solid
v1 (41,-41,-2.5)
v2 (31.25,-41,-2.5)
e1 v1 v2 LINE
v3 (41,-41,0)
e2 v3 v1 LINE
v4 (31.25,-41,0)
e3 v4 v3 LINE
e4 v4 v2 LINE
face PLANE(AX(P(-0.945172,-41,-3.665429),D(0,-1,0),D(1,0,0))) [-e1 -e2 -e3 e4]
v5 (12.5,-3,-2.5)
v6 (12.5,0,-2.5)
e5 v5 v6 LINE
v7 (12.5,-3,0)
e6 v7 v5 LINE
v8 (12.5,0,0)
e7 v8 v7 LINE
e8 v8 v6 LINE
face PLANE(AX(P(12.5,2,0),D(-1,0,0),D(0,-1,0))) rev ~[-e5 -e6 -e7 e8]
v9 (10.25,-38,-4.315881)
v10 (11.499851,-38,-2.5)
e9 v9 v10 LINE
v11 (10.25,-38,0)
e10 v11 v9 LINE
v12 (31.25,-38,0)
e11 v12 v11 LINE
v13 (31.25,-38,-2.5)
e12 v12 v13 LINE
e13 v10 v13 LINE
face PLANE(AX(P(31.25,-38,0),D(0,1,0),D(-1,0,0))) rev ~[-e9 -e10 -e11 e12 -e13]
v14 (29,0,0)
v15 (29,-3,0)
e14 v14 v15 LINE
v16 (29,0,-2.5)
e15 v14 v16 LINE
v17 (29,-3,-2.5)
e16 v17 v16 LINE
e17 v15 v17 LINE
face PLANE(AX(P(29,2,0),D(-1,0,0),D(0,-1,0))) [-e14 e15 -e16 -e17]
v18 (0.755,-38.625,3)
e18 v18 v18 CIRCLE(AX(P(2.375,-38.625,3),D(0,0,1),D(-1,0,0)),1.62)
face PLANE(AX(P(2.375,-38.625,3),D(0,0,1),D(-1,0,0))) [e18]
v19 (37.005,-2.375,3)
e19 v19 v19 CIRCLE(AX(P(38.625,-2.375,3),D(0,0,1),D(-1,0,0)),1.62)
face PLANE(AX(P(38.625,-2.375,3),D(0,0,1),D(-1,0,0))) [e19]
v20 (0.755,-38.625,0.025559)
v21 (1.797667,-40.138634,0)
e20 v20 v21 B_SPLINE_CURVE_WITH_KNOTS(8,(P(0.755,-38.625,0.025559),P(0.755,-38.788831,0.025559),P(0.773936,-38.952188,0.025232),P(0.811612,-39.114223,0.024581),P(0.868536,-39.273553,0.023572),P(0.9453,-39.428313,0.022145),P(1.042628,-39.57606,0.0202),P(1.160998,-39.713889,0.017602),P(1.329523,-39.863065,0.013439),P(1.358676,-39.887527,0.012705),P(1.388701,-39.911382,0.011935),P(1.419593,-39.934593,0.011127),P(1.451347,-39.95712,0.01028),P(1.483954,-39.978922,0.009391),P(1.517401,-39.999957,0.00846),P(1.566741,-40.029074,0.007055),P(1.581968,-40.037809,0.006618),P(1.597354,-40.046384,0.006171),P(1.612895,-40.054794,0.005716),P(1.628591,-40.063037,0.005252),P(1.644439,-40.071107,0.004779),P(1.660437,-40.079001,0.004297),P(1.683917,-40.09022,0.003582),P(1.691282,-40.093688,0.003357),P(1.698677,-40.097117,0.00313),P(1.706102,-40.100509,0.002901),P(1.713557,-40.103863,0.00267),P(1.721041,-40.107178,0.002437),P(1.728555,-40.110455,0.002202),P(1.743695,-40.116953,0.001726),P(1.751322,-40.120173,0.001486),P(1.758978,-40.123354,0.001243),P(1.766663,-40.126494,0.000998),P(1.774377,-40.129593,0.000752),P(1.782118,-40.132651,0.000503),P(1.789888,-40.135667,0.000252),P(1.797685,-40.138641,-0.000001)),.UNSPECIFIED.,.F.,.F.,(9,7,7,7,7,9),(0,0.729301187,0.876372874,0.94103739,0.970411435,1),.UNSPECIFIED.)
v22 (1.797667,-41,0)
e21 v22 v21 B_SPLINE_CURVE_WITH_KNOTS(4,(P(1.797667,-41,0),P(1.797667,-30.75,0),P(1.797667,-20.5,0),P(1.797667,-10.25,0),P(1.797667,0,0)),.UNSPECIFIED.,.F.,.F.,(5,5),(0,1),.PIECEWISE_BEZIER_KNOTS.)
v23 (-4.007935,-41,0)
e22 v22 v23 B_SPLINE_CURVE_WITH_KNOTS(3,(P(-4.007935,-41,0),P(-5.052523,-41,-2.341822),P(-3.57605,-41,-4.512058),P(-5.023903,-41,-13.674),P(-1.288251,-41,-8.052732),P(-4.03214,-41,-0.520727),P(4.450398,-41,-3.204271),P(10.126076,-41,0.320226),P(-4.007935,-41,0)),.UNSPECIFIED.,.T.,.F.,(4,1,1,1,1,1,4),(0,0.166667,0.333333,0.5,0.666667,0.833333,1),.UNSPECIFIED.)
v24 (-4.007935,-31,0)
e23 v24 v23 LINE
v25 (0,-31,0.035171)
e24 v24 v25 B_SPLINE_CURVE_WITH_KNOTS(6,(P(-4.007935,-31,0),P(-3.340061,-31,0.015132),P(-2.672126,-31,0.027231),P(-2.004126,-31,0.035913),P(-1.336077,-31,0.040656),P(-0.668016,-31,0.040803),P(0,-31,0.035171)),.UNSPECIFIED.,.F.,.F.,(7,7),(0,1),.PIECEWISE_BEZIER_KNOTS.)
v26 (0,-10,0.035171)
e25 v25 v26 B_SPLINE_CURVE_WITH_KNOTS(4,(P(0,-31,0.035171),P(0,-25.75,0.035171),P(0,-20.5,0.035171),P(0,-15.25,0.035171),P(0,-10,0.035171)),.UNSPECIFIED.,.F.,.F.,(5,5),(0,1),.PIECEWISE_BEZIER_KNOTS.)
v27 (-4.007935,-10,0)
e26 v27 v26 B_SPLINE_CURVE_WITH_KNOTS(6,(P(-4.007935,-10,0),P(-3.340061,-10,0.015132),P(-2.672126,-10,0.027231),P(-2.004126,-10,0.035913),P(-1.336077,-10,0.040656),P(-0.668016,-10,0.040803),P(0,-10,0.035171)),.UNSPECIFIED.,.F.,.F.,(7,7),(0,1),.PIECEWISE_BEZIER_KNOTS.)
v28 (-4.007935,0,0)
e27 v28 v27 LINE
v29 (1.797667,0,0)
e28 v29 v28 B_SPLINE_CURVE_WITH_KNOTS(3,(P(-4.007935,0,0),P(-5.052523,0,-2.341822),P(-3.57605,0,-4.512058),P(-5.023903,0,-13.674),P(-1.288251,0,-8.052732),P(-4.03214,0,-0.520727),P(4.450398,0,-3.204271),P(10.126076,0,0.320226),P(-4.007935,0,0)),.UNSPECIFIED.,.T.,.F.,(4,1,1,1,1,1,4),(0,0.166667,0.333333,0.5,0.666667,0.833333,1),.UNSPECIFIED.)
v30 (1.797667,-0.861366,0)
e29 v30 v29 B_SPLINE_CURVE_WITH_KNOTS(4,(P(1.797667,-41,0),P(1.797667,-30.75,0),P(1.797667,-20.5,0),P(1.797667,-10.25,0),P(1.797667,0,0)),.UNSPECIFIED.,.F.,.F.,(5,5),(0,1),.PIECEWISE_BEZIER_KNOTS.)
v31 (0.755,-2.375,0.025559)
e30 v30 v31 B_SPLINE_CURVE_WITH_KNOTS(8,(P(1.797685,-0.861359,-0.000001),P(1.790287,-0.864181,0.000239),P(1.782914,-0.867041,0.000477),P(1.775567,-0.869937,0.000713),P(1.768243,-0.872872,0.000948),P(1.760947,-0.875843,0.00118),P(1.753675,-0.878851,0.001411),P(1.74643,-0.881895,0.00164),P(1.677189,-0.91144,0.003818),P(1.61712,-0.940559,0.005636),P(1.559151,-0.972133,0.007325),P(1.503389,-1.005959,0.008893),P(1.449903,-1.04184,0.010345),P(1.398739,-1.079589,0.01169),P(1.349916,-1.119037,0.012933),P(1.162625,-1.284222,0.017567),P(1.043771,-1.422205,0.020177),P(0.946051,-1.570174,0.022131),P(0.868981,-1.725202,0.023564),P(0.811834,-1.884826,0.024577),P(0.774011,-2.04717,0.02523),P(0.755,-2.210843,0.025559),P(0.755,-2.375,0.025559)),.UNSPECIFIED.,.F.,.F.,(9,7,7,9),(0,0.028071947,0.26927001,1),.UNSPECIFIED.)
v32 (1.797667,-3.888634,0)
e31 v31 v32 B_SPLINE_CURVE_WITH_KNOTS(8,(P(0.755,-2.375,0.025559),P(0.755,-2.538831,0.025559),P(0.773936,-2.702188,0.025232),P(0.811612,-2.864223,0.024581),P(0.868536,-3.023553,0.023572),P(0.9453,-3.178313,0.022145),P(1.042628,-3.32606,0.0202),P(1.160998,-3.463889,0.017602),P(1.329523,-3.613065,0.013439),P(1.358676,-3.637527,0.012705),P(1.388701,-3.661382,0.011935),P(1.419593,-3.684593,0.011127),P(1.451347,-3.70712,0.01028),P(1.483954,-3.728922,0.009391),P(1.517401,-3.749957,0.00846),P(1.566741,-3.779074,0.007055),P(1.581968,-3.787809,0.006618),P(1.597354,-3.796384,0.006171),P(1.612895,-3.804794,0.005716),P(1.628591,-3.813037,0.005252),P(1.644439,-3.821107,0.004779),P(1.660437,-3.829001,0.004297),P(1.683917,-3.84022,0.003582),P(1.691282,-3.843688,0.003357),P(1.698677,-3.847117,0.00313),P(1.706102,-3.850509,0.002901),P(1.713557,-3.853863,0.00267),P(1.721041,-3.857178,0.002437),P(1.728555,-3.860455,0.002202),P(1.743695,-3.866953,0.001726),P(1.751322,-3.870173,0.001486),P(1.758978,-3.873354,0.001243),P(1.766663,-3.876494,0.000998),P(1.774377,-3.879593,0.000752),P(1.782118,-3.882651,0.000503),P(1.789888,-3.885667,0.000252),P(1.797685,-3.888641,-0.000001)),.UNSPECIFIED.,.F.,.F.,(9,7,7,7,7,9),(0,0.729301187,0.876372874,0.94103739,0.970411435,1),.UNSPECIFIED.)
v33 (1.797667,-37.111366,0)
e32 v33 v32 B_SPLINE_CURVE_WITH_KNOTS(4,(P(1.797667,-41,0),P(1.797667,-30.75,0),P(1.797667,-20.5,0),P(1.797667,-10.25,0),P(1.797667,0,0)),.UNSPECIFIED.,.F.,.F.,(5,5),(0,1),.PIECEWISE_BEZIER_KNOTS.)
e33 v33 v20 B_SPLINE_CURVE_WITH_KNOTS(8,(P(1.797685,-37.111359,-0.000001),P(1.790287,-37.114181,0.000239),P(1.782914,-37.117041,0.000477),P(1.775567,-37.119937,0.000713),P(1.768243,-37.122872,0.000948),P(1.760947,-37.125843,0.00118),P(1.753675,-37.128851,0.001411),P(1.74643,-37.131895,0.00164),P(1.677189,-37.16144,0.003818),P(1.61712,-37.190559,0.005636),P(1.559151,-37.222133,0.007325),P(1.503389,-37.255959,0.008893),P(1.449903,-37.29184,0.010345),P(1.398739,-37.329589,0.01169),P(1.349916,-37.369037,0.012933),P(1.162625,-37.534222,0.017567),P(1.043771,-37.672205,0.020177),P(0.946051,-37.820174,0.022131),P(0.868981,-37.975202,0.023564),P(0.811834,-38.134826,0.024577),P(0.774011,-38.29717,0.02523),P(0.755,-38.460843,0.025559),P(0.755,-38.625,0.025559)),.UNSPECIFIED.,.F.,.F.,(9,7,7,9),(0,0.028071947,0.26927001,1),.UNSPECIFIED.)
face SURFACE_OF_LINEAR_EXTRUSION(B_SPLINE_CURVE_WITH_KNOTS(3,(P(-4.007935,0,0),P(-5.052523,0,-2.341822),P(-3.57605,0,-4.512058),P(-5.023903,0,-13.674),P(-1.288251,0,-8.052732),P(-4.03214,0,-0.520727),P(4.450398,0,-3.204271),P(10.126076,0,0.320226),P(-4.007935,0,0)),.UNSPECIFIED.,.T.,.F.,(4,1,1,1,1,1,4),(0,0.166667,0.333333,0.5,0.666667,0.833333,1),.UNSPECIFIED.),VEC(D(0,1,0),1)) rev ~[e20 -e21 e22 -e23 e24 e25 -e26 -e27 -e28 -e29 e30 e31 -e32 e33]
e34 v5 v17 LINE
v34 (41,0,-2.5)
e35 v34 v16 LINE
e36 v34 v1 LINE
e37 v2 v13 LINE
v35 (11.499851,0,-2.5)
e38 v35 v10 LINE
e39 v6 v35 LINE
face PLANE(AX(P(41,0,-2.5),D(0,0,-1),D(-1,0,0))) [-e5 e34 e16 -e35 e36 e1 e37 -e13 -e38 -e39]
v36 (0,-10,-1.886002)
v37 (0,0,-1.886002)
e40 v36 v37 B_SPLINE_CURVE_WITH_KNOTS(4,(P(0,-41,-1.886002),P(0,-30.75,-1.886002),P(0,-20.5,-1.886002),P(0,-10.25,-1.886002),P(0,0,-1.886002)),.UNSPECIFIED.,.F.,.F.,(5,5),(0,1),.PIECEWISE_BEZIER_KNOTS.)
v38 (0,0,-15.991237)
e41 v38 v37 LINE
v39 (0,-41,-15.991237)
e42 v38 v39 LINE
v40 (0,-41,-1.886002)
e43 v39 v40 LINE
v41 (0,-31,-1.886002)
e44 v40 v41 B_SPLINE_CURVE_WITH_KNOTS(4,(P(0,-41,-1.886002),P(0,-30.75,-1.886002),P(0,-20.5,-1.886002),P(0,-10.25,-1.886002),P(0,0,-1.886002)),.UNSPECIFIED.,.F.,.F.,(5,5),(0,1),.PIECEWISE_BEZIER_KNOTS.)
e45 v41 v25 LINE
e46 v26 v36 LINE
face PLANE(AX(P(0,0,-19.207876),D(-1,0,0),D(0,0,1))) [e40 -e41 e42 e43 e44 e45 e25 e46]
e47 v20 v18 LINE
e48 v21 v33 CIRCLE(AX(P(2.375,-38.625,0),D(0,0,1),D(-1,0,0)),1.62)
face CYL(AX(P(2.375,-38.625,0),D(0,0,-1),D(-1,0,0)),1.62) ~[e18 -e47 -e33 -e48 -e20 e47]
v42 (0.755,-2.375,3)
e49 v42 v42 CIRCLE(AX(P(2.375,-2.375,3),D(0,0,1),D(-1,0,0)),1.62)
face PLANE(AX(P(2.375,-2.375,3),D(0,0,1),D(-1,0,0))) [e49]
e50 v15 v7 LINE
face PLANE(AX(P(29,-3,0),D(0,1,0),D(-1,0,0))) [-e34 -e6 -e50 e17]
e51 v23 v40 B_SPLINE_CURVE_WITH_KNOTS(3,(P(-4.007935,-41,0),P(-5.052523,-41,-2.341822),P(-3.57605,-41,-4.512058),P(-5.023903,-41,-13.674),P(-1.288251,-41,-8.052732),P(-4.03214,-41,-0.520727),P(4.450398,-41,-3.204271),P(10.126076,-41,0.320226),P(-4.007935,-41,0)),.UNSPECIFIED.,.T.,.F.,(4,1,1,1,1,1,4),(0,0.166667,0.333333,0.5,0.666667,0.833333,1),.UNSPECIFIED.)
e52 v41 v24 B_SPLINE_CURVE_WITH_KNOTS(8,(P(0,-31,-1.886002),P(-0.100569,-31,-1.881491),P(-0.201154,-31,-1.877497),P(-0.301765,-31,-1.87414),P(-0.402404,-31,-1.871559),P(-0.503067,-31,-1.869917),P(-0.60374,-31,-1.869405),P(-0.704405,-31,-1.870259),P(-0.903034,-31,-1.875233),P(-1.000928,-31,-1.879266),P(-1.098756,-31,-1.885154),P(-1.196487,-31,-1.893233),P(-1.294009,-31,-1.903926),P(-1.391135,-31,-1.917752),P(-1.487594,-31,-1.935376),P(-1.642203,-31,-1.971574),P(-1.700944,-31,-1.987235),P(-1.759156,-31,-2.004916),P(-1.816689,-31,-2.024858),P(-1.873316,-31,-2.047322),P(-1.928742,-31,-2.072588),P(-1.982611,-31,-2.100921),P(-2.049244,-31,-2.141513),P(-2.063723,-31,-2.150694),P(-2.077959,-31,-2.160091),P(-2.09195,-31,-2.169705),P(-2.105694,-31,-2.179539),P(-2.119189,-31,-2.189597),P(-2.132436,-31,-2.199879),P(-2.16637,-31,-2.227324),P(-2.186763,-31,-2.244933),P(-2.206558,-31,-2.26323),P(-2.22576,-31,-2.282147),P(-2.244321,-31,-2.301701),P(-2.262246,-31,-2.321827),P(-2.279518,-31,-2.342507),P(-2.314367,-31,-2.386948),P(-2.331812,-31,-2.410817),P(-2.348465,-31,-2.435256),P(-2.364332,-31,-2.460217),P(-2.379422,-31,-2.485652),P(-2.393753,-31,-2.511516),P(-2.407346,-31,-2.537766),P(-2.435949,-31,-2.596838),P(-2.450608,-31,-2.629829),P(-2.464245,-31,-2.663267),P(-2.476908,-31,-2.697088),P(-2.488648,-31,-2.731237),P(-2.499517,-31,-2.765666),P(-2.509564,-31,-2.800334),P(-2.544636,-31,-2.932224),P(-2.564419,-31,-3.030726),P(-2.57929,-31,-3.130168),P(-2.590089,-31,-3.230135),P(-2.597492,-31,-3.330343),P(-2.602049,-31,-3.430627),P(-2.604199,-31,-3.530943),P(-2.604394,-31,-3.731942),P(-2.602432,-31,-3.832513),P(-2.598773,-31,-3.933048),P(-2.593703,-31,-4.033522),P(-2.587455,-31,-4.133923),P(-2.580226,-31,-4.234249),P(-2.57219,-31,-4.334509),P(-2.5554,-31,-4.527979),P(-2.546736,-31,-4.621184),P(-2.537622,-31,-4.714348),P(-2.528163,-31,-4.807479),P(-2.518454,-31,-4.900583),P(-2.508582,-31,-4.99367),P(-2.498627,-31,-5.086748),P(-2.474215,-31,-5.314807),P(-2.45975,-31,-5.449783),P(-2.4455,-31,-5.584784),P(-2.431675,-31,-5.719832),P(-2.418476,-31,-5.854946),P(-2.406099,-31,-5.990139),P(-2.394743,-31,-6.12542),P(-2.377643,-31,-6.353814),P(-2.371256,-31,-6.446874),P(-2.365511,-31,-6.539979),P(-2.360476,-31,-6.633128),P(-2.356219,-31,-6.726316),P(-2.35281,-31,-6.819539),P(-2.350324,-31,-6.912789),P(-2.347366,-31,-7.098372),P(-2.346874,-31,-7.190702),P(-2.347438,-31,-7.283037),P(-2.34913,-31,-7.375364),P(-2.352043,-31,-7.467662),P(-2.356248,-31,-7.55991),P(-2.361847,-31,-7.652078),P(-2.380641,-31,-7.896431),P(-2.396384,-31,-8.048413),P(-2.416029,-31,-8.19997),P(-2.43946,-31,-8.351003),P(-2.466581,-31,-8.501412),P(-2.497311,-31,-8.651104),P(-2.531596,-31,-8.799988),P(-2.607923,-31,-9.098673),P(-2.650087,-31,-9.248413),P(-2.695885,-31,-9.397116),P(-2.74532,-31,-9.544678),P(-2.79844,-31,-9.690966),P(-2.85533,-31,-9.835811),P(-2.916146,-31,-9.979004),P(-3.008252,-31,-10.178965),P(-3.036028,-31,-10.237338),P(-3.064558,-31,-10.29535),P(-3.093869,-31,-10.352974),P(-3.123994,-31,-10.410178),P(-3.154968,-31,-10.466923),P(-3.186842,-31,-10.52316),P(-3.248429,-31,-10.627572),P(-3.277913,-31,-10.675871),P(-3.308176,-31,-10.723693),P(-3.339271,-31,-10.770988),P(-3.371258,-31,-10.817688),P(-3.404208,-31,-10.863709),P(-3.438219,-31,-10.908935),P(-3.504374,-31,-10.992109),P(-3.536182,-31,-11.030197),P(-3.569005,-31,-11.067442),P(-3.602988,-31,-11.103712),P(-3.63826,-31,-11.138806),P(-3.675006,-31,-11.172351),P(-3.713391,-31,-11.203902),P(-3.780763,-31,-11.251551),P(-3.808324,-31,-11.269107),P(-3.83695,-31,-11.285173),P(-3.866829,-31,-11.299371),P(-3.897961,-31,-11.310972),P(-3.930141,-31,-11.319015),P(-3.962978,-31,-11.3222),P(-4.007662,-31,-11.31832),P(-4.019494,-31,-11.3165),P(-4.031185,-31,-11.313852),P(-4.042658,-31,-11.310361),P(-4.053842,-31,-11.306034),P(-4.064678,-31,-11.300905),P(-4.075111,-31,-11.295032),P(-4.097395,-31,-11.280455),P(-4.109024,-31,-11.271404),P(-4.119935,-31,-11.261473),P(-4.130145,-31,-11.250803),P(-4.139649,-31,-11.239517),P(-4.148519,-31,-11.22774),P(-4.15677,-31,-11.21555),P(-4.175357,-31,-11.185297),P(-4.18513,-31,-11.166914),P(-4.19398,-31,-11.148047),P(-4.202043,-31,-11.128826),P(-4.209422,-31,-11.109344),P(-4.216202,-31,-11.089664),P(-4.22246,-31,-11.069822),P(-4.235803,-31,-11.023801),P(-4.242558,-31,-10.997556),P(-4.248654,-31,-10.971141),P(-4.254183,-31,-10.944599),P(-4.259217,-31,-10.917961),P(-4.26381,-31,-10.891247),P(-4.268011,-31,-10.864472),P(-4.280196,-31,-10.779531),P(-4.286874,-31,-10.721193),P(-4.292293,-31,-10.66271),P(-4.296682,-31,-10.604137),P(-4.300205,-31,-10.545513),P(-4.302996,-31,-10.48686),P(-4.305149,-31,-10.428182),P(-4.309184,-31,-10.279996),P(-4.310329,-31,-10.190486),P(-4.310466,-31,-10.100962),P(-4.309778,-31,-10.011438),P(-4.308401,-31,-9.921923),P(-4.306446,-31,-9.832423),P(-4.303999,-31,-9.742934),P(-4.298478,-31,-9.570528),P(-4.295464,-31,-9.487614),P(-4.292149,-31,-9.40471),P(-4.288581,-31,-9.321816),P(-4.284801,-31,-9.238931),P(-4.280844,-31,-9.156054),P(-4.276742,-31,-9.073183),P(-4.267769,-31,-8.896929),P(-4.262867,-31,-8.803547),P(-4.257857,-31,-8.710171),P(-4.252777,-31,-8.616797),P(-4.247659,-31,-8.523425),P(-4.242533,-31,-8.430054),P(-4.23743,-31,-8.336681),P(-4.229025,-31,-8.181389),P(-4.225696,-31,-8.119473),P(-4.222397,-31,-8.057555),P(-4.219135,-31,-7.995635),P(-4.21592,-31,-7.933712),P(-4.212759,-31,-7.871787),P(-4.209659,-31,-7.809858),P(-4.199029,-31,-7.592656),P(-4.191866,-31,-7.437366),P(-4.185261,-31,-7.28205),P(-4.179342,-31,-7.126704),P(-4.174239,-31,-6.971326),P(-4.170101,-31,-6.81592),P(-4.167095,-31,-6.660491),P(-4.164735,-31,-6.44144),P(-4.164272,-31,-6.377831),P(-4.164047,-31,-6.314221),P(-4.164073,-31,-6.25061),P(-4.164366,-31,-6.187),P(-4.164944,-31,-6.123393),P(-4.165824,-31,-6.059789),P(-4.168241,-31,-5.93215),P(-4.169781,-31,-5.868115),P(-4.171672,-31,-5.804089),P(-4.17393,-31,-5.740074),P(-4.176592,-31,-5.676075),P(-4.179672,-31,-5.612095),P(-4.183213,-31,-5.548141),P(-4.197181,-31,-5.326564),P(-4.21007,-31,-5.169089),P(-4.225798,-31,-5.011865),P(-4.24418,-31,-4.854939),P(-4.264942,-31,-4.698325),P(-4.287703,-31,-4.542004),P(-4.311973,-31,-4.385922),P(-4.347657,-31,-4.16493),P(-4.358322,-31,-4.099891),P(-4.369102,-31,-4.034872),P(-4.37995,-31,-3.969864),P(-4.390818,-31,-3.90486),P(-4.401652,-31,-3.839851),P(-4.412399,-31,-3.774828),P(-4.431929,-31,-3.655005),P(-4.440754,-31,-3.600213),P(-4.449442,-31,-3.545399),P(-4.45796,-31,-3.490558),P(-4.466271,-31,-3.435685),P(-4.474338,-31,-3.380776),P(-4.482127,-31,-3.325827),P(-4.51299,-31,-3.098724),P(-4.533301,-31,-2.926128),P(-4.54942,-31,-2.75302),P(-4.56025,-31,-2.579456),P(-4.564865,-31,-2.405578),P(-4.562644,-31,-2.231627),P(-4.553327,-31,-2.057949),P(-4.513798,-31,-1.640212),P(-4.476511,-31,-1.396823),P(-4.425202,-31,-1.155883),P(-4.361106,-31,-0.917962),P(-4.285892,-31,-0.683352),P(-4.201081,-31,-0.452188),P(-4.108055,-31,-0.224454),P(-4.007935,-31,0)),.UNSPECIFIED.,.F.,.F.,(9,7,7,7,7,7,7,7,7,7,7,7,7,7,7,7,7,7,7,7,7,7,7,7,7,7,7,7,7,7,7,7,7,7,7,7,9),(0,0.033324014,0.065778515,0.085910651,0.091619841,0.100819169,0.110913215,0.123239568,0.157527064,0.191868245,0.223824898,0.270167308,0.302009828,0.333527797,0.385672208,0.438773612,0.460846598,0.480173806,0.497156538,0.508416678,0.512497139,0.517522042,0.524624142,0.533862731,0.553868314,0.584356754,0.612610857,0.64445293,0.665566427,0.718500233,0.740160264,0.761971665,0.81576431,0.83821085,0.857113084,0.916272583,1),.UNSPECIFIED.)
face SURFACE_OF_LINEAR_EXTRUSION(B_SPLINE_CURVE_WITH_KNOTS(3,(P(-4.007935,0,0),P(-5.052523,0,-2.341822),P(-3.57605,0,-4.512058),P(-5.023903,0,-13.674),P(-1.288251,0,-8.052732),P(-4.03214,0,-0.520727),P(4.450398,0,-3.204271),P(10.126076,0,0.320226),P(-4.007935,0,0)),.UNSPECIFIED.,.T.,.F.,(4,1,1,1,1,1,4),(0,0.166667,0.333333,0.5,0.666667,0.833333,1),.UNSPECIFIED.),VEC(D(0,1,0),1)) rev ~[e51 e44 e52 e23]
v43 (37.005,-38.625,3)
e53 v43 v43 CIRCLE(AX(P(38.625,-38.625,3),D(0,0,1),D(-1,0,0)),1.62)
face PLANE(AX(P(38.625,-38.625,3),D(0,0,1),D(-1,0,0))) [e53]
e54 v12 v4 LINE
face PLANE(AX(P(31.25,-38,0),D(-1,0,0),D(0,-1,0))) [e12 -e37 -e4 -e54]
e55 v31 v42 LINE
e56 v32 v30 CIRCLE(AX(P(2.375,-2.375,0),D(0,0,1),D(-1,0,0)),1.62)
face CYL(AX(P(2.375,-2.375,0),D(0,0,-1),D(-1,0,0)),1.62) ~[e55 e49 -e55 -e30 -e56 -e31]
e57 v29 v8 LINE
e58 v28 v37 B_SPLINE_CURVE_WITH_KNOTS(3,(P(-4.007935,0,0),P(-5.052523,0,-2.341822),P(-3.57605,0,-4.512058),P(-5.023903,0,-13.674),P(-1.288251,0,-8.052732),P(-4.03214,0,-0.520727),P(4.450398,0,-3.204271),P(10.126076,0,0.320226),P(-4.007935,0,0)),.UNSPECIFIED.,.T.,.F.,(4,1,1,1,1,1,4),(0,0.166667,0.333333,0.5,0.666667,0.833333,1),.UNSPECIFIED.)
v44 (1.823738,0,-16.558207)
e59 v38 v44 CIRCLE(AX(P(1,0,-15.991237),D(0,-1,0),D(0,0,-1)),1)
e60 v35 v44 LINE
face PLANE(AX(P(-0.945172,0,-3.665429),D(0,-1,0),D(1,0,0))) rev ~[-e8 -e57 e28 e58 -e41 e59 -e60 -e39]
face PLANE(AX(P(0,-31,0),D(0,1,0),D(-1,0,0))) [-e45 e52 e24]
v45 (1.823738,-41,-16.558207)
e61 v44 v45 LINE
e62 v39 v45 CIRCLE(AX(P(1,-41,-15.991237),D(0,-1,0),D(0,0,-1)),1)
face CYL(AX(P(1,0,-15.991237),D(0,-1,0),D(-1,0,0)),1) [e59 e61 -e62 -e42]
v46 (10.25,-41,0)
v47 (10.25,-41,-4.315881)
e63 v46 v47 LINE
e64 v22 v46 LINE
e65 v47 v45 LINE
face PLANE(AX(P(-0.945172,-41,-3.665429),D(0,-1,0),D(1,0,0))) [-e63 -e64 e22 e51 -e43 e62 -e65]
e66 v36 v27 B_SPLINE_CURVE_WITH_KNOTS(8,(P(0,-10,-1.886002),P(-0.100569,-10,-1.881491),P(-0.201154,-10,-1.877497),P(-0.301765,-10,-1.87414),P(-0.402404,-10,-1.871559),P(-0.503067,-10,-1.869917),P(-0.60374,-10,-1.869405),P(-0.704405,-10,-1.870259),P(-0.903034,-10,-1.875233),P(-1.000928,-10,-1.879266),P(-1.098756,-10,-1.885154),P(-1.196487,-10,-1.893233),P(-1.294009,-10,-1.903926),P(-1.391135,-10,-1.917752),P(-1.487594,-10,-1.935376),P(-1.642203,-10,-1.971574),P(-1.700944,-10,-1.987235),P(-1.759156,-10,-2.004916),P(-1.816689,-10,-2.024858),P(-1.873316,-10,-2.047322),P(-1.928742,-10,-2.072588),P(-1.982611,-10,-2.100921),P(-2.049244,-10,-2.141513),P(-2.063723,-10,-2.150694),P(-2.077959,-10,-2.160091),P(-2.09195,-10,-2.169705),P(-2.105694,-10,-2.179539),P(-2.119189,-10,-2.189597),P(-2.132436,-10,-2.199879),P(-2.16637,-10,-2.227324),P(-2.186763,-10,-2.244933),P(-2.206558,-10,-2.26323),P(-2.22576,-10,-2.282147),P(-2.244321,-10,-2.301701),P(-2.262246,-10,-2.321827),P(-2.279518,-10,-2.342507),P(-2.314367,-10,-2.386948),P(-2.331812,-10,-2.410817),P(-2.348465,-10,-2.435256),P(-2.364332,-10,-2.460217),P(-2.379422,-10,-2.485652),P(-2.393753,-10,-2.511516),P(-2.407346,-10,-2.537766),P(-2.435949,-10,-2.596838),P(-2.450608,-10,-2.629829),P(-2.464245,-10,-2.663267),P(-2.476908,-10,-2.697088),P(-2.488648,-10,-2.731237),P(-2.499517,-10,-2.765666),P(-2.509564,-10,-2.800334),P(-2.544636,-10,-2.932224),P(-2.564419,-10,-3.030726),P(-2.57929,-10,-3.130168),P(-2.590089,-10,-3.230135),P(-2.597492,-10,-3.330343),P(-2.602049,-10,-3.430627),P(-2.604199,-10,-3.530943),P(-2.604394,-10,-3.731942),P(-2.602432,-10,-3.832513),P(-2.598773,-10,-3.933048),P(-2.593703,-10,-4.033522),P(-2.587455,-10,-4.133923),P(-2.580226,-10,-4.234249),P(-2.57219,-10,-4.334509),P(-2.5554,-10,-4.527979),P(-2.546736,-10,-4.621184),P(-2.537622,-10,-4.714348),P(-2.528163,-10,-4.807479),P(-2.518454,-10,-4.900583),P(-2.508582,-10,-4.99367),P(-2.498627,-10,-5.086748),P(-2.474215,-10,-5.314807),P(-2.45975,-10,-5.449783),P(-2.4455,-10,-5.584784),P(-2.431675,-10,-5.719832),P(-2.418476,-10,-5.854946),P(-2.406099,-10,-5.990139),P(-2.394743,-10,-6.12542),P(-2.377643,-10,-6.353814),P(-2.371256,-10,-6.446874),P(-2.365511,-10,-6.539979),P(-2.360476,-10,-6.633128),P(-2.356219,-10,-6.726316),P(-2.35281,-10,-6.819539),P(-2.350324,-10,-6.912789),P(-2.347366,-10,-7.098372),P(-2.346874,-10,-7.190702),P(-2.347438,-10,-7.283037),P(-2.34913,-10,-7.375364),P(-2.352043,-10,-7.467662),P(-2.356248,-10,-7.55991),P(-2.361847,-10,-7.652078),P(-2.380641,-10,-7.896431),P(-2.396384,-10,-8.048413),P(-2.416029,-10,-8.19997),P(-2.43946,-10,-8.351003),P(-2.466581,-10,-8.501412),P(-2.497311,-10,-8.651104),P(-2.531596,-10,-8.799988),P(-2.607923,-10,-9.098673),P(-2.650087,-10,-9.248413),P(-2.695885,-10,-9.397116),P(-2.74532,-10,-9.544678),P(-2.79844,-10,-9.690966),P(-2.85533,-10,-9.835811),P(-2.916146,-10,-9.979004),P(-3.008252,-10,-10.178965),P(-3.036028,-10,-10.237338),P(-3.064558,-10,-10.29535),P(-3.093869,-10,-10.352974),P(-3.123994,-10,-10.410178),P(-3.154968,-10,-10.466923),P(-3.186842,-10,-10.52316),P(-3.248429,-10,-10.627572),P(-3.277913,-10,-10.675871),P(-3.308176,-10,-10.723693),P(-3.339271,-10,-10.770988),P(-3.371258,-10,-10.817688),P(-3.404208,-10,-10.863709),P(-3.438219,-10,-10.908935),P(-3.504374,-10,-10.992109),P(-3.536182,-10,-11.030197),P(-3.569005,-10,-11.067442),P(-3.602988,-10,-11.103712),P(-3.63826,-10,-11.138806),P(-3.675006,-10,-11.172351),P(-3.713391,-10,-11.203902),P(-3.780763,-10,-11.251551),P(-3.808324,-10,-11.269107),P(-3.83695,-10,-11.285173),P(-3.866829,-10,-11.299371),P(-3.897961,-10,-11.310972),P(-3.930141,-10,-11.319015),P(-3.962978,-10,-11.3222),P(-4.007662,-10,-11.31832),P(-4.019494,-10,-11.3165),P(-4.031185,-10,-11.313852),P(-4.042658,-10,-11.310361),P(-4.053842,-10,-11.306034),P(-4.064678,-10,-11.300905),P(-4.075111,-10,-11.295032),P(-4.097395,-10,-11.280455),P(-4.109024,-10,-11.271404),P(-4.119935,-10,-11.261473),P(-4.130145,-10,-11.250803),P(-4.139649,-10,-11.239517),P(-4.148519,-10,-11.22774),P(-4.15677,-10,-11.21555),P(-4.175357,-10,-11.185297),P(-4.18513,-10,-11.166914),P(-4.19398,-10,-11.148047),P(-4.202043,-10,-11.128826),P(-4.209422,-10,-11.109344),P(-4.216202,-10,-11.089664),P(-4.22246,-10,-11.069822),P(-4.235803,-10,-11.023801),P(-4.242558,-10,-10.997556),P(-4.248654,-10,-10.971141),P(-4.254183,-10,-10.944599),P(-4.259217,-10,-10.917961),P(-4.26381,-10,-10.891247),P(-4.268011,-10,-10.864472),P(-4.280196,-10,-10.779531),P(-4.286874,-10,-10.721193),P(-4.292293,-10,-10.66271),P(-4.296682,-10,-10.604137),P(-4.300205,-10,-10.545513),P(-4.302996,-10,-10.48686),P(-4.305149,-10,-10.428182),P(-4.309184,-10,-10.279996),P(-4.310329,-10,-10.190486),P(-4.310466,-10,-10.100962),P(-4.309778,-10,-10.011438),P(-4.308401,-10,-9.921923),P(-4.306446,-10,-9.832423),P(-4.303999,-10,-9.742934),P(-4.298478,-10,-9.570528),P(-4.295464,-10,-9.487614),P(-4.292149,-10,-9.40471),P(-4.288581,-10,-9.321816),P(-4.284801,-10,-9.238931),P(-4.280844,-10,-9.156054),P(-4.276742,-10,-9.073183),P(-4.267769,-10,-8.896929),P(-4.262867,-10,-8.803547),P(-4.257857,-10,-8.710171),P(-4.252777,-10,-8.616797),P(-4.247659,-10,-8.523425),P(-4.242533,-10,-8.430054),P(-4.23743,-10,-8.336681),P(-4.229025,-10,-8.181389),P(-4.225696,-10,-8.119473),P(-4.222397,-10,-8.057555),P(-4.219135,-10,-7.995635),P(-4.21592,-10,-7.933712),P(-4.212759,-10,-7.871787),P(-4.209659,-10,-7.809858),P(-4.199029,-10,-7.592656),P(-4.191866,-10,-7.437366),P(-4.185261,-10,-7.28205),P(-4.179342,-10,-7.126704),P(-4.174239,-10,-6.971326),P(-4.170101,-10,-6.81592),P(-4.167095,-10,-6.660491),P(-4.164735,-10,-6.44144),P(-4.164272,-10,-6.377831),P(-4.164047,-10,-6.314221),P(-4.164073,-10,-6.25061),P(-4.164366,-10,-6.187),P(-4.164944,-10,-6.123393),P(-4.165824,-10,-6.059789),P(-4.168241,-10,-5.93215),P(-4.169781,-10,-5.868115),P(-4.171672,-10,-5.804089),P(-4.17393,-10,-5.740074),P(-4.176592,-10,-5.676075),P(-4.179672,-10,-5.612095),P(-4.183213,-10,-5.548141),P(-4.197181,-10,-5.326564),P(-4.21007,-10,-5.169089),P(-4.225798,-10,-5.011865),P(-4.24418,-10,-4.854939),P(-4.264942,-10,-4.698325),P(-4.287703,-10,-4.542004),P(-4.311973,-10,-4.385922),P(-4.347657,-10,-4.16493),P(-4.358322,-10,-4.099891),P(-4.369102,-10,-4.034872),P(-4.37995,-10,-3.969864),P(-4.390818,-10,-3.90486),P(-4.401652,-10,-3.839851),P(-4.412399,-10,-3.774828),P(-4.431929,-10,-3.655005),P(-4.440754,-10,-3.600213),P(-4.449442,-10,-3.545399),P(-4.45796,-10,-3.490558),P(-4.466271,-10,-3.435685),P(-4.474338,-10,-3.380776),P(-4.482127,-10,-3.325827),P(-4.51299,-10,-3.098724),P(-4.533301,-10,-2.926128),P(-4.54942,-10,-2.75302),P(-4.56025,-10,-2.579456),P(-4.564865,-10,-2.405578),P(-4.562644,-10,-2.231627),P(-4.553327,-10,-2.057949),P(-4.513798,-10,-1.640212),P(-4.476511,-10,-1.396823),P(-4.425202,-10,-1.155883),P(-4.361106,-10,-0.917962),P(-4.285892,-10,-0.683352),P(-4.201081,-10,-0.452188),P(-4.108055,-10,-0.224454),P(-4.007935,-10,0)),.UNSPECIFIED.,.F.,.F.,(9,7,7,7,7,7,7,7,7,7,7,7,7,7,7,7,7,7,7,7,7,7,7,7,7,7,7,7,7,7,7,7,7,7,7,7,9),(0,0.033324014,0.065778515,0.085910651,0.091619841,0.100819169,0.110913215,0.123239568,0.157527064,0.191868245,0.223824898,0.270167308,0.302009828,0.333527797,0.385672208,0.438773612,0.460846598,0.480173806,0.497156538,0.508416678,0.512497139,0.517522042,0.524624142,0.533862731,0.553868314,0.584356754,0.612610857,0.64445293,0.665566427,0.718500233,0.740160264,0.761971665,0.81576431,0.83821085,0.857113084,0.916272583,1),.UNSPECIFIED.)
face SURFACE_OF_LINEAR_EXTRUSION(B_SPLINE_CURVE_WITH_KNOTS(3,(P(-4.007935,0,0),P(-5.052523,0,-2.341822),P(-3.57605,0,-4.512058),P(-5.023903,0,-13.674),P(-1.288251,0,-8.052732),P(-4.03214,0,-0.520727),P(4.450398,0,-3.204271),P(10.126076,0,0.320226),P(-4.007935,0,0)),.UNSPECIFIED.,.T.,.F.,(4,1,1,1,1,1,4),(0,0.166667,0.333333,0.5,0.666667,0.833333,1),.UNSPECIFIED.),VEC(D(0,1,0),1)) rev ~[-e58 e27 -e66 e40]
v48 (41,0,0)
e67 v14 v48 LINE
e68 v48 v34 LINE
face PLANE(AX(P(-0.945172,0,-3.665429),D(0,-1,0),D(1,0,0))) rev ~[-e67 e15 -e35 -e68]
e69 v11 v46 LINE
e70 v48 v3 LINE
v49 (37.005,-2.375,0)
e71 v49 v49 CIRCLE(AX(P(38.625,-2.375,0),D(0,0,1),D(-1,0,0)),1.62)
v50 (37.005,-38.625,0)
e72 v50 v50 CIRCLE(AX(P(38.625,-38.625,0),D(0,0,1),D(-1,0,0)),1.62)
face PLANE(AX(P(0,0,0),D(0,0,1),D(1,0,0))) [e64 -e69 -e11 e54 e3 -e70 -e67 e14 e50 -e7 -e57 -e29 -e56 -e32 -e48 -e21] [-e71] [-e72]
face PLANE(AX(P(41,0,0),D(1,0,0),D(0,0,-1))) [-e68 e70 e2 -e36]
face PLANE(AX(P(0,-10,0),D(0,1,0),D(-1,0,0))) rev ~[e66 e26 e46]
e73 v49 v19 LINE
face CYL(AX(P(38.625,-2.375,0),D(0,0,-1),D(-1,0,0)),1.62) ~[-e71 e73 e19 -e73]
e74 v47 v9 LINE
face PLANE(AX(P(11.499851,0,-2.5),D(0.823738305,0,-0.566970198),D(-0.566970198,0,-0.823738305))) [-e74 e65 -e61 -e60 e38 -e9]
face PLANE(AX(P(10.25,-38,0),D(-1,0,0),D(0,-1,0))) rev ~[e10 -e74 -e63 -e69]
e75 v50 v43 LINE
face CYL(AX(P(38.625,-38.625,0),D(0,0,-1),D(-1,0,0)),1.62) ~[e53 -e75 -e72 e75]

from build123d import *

# Parameters (mm, degrees)
PAD_DEPTH         = 41
PAD001_DEPTH      = 41
FILLET_R          = 1
SKETCH002_W       = 10
SKETCH002_H       = 21
POCKET_DEPTH      = 17
POCKET_DEPTH_BACK = -10
SKETCH003_R       = 1.62
PAD002_DEPTH      = 3
SKETCH004_W       = 21
SKETCH004_H       = 5
SKETCH004_W_2     = 16.5
POCKET001_DEPTH   = 5


with BuildPart() as part:
    # Sketch001 → Pad (new body)
    with BuildSketch(Plane.XZ):
        Polygon((0, 0), (41, 0), (41, -2.5), (11.499851, -2.5), (0, -19.207876), align=None)
    extrude(amount=PAD_DEPTH)

    # Sketch → Pad001 (join)
    with BuildSketch(Plane.XZ):
        with BuildLine():
            add(Edge.make_bspline(
                [(-4.007935, 0), (-5.052523, -2.341822), (-3.57605, -4.512058), (-5.023903, -13.674), (-1.288251, -8.052732), (-4.03214, -0.520727), (4.450398, -3.204271), (10.126076, 0.320226), (-4.007935, 0)],
                knots=[0, 0, 0, 0, 0.166667, 0.333333, 0.5, 0.666667, 0.833333, 1, 1, 1, 1], degree=3))
        make_face()
    extrude(amount=PAD001_DEPTH)

    # Fillet
    fillet_edges = [part.edges().sort_by_distance(p)[0] for p in [
        (0, -20.5, -19.207876),
    ]]
    fillet(fillet_edges, radius=FILLET_R)

    # Sketch002 (on Face6 of Fillet) → Pocket (cut, two sides)
    with BuildSketch(Plane(origin=(0, 0, 0), x_dir=(-1, 0, 0), z_dir=(0, 0, 1))) as pocket_sk:
        with Locations((5, 20.5)):
            Rectangle(SKETCH002_W, SKETCH002_H)
    extrude(amount=-POCKET_DEPTH, mode=Mode.SUBTRACT)
    extrude(pocket_sk.sketch, amount=-POCKET_DEPTH_BACK, mode=Mode.SUBTRACT)

    # Sketch003 (on Face6 of Pocket) → Pad002 (join)
    with BuildSketch(Plane(origin=(0, 0, 0), x_dir=(-1, 0, 0), z_dir=(0, 0, 1))):
        with Locations((-2.375, 2.375)):
            Circle(SKETCH003_R)
        with Locations((-38.625, 38.625)):
            Circle(SKETCH003_R)
        with Locations((-38.625, 2.375)):
            Circle(SKETCH003_R)
        with Locations((-2.375, 38.625)):
            Circle(SKETCH003_R)
    extrude(amount=PAD002_DEPTH)

    # Sketch004 (on Face6 of Pad002) → Pocket001 (cut)
    with BuildSketch(Plane(origin=(0, 0, 0), x_dir=(-1, 0, 0), z_dir=(0, 0, 1))):
        with Locations((-20.75, 40.5)):
            Rectangle(SKETCH004_W, SKETCH004_H)
        with Locations((-20.75, 0.5)):
            Rectangle(SKETCH004_W_2, SKETCH004_H)
    extrude(amount=-POCKET001_DEPTH, mode=Mode.SUBTRACT)


solid = part.part
